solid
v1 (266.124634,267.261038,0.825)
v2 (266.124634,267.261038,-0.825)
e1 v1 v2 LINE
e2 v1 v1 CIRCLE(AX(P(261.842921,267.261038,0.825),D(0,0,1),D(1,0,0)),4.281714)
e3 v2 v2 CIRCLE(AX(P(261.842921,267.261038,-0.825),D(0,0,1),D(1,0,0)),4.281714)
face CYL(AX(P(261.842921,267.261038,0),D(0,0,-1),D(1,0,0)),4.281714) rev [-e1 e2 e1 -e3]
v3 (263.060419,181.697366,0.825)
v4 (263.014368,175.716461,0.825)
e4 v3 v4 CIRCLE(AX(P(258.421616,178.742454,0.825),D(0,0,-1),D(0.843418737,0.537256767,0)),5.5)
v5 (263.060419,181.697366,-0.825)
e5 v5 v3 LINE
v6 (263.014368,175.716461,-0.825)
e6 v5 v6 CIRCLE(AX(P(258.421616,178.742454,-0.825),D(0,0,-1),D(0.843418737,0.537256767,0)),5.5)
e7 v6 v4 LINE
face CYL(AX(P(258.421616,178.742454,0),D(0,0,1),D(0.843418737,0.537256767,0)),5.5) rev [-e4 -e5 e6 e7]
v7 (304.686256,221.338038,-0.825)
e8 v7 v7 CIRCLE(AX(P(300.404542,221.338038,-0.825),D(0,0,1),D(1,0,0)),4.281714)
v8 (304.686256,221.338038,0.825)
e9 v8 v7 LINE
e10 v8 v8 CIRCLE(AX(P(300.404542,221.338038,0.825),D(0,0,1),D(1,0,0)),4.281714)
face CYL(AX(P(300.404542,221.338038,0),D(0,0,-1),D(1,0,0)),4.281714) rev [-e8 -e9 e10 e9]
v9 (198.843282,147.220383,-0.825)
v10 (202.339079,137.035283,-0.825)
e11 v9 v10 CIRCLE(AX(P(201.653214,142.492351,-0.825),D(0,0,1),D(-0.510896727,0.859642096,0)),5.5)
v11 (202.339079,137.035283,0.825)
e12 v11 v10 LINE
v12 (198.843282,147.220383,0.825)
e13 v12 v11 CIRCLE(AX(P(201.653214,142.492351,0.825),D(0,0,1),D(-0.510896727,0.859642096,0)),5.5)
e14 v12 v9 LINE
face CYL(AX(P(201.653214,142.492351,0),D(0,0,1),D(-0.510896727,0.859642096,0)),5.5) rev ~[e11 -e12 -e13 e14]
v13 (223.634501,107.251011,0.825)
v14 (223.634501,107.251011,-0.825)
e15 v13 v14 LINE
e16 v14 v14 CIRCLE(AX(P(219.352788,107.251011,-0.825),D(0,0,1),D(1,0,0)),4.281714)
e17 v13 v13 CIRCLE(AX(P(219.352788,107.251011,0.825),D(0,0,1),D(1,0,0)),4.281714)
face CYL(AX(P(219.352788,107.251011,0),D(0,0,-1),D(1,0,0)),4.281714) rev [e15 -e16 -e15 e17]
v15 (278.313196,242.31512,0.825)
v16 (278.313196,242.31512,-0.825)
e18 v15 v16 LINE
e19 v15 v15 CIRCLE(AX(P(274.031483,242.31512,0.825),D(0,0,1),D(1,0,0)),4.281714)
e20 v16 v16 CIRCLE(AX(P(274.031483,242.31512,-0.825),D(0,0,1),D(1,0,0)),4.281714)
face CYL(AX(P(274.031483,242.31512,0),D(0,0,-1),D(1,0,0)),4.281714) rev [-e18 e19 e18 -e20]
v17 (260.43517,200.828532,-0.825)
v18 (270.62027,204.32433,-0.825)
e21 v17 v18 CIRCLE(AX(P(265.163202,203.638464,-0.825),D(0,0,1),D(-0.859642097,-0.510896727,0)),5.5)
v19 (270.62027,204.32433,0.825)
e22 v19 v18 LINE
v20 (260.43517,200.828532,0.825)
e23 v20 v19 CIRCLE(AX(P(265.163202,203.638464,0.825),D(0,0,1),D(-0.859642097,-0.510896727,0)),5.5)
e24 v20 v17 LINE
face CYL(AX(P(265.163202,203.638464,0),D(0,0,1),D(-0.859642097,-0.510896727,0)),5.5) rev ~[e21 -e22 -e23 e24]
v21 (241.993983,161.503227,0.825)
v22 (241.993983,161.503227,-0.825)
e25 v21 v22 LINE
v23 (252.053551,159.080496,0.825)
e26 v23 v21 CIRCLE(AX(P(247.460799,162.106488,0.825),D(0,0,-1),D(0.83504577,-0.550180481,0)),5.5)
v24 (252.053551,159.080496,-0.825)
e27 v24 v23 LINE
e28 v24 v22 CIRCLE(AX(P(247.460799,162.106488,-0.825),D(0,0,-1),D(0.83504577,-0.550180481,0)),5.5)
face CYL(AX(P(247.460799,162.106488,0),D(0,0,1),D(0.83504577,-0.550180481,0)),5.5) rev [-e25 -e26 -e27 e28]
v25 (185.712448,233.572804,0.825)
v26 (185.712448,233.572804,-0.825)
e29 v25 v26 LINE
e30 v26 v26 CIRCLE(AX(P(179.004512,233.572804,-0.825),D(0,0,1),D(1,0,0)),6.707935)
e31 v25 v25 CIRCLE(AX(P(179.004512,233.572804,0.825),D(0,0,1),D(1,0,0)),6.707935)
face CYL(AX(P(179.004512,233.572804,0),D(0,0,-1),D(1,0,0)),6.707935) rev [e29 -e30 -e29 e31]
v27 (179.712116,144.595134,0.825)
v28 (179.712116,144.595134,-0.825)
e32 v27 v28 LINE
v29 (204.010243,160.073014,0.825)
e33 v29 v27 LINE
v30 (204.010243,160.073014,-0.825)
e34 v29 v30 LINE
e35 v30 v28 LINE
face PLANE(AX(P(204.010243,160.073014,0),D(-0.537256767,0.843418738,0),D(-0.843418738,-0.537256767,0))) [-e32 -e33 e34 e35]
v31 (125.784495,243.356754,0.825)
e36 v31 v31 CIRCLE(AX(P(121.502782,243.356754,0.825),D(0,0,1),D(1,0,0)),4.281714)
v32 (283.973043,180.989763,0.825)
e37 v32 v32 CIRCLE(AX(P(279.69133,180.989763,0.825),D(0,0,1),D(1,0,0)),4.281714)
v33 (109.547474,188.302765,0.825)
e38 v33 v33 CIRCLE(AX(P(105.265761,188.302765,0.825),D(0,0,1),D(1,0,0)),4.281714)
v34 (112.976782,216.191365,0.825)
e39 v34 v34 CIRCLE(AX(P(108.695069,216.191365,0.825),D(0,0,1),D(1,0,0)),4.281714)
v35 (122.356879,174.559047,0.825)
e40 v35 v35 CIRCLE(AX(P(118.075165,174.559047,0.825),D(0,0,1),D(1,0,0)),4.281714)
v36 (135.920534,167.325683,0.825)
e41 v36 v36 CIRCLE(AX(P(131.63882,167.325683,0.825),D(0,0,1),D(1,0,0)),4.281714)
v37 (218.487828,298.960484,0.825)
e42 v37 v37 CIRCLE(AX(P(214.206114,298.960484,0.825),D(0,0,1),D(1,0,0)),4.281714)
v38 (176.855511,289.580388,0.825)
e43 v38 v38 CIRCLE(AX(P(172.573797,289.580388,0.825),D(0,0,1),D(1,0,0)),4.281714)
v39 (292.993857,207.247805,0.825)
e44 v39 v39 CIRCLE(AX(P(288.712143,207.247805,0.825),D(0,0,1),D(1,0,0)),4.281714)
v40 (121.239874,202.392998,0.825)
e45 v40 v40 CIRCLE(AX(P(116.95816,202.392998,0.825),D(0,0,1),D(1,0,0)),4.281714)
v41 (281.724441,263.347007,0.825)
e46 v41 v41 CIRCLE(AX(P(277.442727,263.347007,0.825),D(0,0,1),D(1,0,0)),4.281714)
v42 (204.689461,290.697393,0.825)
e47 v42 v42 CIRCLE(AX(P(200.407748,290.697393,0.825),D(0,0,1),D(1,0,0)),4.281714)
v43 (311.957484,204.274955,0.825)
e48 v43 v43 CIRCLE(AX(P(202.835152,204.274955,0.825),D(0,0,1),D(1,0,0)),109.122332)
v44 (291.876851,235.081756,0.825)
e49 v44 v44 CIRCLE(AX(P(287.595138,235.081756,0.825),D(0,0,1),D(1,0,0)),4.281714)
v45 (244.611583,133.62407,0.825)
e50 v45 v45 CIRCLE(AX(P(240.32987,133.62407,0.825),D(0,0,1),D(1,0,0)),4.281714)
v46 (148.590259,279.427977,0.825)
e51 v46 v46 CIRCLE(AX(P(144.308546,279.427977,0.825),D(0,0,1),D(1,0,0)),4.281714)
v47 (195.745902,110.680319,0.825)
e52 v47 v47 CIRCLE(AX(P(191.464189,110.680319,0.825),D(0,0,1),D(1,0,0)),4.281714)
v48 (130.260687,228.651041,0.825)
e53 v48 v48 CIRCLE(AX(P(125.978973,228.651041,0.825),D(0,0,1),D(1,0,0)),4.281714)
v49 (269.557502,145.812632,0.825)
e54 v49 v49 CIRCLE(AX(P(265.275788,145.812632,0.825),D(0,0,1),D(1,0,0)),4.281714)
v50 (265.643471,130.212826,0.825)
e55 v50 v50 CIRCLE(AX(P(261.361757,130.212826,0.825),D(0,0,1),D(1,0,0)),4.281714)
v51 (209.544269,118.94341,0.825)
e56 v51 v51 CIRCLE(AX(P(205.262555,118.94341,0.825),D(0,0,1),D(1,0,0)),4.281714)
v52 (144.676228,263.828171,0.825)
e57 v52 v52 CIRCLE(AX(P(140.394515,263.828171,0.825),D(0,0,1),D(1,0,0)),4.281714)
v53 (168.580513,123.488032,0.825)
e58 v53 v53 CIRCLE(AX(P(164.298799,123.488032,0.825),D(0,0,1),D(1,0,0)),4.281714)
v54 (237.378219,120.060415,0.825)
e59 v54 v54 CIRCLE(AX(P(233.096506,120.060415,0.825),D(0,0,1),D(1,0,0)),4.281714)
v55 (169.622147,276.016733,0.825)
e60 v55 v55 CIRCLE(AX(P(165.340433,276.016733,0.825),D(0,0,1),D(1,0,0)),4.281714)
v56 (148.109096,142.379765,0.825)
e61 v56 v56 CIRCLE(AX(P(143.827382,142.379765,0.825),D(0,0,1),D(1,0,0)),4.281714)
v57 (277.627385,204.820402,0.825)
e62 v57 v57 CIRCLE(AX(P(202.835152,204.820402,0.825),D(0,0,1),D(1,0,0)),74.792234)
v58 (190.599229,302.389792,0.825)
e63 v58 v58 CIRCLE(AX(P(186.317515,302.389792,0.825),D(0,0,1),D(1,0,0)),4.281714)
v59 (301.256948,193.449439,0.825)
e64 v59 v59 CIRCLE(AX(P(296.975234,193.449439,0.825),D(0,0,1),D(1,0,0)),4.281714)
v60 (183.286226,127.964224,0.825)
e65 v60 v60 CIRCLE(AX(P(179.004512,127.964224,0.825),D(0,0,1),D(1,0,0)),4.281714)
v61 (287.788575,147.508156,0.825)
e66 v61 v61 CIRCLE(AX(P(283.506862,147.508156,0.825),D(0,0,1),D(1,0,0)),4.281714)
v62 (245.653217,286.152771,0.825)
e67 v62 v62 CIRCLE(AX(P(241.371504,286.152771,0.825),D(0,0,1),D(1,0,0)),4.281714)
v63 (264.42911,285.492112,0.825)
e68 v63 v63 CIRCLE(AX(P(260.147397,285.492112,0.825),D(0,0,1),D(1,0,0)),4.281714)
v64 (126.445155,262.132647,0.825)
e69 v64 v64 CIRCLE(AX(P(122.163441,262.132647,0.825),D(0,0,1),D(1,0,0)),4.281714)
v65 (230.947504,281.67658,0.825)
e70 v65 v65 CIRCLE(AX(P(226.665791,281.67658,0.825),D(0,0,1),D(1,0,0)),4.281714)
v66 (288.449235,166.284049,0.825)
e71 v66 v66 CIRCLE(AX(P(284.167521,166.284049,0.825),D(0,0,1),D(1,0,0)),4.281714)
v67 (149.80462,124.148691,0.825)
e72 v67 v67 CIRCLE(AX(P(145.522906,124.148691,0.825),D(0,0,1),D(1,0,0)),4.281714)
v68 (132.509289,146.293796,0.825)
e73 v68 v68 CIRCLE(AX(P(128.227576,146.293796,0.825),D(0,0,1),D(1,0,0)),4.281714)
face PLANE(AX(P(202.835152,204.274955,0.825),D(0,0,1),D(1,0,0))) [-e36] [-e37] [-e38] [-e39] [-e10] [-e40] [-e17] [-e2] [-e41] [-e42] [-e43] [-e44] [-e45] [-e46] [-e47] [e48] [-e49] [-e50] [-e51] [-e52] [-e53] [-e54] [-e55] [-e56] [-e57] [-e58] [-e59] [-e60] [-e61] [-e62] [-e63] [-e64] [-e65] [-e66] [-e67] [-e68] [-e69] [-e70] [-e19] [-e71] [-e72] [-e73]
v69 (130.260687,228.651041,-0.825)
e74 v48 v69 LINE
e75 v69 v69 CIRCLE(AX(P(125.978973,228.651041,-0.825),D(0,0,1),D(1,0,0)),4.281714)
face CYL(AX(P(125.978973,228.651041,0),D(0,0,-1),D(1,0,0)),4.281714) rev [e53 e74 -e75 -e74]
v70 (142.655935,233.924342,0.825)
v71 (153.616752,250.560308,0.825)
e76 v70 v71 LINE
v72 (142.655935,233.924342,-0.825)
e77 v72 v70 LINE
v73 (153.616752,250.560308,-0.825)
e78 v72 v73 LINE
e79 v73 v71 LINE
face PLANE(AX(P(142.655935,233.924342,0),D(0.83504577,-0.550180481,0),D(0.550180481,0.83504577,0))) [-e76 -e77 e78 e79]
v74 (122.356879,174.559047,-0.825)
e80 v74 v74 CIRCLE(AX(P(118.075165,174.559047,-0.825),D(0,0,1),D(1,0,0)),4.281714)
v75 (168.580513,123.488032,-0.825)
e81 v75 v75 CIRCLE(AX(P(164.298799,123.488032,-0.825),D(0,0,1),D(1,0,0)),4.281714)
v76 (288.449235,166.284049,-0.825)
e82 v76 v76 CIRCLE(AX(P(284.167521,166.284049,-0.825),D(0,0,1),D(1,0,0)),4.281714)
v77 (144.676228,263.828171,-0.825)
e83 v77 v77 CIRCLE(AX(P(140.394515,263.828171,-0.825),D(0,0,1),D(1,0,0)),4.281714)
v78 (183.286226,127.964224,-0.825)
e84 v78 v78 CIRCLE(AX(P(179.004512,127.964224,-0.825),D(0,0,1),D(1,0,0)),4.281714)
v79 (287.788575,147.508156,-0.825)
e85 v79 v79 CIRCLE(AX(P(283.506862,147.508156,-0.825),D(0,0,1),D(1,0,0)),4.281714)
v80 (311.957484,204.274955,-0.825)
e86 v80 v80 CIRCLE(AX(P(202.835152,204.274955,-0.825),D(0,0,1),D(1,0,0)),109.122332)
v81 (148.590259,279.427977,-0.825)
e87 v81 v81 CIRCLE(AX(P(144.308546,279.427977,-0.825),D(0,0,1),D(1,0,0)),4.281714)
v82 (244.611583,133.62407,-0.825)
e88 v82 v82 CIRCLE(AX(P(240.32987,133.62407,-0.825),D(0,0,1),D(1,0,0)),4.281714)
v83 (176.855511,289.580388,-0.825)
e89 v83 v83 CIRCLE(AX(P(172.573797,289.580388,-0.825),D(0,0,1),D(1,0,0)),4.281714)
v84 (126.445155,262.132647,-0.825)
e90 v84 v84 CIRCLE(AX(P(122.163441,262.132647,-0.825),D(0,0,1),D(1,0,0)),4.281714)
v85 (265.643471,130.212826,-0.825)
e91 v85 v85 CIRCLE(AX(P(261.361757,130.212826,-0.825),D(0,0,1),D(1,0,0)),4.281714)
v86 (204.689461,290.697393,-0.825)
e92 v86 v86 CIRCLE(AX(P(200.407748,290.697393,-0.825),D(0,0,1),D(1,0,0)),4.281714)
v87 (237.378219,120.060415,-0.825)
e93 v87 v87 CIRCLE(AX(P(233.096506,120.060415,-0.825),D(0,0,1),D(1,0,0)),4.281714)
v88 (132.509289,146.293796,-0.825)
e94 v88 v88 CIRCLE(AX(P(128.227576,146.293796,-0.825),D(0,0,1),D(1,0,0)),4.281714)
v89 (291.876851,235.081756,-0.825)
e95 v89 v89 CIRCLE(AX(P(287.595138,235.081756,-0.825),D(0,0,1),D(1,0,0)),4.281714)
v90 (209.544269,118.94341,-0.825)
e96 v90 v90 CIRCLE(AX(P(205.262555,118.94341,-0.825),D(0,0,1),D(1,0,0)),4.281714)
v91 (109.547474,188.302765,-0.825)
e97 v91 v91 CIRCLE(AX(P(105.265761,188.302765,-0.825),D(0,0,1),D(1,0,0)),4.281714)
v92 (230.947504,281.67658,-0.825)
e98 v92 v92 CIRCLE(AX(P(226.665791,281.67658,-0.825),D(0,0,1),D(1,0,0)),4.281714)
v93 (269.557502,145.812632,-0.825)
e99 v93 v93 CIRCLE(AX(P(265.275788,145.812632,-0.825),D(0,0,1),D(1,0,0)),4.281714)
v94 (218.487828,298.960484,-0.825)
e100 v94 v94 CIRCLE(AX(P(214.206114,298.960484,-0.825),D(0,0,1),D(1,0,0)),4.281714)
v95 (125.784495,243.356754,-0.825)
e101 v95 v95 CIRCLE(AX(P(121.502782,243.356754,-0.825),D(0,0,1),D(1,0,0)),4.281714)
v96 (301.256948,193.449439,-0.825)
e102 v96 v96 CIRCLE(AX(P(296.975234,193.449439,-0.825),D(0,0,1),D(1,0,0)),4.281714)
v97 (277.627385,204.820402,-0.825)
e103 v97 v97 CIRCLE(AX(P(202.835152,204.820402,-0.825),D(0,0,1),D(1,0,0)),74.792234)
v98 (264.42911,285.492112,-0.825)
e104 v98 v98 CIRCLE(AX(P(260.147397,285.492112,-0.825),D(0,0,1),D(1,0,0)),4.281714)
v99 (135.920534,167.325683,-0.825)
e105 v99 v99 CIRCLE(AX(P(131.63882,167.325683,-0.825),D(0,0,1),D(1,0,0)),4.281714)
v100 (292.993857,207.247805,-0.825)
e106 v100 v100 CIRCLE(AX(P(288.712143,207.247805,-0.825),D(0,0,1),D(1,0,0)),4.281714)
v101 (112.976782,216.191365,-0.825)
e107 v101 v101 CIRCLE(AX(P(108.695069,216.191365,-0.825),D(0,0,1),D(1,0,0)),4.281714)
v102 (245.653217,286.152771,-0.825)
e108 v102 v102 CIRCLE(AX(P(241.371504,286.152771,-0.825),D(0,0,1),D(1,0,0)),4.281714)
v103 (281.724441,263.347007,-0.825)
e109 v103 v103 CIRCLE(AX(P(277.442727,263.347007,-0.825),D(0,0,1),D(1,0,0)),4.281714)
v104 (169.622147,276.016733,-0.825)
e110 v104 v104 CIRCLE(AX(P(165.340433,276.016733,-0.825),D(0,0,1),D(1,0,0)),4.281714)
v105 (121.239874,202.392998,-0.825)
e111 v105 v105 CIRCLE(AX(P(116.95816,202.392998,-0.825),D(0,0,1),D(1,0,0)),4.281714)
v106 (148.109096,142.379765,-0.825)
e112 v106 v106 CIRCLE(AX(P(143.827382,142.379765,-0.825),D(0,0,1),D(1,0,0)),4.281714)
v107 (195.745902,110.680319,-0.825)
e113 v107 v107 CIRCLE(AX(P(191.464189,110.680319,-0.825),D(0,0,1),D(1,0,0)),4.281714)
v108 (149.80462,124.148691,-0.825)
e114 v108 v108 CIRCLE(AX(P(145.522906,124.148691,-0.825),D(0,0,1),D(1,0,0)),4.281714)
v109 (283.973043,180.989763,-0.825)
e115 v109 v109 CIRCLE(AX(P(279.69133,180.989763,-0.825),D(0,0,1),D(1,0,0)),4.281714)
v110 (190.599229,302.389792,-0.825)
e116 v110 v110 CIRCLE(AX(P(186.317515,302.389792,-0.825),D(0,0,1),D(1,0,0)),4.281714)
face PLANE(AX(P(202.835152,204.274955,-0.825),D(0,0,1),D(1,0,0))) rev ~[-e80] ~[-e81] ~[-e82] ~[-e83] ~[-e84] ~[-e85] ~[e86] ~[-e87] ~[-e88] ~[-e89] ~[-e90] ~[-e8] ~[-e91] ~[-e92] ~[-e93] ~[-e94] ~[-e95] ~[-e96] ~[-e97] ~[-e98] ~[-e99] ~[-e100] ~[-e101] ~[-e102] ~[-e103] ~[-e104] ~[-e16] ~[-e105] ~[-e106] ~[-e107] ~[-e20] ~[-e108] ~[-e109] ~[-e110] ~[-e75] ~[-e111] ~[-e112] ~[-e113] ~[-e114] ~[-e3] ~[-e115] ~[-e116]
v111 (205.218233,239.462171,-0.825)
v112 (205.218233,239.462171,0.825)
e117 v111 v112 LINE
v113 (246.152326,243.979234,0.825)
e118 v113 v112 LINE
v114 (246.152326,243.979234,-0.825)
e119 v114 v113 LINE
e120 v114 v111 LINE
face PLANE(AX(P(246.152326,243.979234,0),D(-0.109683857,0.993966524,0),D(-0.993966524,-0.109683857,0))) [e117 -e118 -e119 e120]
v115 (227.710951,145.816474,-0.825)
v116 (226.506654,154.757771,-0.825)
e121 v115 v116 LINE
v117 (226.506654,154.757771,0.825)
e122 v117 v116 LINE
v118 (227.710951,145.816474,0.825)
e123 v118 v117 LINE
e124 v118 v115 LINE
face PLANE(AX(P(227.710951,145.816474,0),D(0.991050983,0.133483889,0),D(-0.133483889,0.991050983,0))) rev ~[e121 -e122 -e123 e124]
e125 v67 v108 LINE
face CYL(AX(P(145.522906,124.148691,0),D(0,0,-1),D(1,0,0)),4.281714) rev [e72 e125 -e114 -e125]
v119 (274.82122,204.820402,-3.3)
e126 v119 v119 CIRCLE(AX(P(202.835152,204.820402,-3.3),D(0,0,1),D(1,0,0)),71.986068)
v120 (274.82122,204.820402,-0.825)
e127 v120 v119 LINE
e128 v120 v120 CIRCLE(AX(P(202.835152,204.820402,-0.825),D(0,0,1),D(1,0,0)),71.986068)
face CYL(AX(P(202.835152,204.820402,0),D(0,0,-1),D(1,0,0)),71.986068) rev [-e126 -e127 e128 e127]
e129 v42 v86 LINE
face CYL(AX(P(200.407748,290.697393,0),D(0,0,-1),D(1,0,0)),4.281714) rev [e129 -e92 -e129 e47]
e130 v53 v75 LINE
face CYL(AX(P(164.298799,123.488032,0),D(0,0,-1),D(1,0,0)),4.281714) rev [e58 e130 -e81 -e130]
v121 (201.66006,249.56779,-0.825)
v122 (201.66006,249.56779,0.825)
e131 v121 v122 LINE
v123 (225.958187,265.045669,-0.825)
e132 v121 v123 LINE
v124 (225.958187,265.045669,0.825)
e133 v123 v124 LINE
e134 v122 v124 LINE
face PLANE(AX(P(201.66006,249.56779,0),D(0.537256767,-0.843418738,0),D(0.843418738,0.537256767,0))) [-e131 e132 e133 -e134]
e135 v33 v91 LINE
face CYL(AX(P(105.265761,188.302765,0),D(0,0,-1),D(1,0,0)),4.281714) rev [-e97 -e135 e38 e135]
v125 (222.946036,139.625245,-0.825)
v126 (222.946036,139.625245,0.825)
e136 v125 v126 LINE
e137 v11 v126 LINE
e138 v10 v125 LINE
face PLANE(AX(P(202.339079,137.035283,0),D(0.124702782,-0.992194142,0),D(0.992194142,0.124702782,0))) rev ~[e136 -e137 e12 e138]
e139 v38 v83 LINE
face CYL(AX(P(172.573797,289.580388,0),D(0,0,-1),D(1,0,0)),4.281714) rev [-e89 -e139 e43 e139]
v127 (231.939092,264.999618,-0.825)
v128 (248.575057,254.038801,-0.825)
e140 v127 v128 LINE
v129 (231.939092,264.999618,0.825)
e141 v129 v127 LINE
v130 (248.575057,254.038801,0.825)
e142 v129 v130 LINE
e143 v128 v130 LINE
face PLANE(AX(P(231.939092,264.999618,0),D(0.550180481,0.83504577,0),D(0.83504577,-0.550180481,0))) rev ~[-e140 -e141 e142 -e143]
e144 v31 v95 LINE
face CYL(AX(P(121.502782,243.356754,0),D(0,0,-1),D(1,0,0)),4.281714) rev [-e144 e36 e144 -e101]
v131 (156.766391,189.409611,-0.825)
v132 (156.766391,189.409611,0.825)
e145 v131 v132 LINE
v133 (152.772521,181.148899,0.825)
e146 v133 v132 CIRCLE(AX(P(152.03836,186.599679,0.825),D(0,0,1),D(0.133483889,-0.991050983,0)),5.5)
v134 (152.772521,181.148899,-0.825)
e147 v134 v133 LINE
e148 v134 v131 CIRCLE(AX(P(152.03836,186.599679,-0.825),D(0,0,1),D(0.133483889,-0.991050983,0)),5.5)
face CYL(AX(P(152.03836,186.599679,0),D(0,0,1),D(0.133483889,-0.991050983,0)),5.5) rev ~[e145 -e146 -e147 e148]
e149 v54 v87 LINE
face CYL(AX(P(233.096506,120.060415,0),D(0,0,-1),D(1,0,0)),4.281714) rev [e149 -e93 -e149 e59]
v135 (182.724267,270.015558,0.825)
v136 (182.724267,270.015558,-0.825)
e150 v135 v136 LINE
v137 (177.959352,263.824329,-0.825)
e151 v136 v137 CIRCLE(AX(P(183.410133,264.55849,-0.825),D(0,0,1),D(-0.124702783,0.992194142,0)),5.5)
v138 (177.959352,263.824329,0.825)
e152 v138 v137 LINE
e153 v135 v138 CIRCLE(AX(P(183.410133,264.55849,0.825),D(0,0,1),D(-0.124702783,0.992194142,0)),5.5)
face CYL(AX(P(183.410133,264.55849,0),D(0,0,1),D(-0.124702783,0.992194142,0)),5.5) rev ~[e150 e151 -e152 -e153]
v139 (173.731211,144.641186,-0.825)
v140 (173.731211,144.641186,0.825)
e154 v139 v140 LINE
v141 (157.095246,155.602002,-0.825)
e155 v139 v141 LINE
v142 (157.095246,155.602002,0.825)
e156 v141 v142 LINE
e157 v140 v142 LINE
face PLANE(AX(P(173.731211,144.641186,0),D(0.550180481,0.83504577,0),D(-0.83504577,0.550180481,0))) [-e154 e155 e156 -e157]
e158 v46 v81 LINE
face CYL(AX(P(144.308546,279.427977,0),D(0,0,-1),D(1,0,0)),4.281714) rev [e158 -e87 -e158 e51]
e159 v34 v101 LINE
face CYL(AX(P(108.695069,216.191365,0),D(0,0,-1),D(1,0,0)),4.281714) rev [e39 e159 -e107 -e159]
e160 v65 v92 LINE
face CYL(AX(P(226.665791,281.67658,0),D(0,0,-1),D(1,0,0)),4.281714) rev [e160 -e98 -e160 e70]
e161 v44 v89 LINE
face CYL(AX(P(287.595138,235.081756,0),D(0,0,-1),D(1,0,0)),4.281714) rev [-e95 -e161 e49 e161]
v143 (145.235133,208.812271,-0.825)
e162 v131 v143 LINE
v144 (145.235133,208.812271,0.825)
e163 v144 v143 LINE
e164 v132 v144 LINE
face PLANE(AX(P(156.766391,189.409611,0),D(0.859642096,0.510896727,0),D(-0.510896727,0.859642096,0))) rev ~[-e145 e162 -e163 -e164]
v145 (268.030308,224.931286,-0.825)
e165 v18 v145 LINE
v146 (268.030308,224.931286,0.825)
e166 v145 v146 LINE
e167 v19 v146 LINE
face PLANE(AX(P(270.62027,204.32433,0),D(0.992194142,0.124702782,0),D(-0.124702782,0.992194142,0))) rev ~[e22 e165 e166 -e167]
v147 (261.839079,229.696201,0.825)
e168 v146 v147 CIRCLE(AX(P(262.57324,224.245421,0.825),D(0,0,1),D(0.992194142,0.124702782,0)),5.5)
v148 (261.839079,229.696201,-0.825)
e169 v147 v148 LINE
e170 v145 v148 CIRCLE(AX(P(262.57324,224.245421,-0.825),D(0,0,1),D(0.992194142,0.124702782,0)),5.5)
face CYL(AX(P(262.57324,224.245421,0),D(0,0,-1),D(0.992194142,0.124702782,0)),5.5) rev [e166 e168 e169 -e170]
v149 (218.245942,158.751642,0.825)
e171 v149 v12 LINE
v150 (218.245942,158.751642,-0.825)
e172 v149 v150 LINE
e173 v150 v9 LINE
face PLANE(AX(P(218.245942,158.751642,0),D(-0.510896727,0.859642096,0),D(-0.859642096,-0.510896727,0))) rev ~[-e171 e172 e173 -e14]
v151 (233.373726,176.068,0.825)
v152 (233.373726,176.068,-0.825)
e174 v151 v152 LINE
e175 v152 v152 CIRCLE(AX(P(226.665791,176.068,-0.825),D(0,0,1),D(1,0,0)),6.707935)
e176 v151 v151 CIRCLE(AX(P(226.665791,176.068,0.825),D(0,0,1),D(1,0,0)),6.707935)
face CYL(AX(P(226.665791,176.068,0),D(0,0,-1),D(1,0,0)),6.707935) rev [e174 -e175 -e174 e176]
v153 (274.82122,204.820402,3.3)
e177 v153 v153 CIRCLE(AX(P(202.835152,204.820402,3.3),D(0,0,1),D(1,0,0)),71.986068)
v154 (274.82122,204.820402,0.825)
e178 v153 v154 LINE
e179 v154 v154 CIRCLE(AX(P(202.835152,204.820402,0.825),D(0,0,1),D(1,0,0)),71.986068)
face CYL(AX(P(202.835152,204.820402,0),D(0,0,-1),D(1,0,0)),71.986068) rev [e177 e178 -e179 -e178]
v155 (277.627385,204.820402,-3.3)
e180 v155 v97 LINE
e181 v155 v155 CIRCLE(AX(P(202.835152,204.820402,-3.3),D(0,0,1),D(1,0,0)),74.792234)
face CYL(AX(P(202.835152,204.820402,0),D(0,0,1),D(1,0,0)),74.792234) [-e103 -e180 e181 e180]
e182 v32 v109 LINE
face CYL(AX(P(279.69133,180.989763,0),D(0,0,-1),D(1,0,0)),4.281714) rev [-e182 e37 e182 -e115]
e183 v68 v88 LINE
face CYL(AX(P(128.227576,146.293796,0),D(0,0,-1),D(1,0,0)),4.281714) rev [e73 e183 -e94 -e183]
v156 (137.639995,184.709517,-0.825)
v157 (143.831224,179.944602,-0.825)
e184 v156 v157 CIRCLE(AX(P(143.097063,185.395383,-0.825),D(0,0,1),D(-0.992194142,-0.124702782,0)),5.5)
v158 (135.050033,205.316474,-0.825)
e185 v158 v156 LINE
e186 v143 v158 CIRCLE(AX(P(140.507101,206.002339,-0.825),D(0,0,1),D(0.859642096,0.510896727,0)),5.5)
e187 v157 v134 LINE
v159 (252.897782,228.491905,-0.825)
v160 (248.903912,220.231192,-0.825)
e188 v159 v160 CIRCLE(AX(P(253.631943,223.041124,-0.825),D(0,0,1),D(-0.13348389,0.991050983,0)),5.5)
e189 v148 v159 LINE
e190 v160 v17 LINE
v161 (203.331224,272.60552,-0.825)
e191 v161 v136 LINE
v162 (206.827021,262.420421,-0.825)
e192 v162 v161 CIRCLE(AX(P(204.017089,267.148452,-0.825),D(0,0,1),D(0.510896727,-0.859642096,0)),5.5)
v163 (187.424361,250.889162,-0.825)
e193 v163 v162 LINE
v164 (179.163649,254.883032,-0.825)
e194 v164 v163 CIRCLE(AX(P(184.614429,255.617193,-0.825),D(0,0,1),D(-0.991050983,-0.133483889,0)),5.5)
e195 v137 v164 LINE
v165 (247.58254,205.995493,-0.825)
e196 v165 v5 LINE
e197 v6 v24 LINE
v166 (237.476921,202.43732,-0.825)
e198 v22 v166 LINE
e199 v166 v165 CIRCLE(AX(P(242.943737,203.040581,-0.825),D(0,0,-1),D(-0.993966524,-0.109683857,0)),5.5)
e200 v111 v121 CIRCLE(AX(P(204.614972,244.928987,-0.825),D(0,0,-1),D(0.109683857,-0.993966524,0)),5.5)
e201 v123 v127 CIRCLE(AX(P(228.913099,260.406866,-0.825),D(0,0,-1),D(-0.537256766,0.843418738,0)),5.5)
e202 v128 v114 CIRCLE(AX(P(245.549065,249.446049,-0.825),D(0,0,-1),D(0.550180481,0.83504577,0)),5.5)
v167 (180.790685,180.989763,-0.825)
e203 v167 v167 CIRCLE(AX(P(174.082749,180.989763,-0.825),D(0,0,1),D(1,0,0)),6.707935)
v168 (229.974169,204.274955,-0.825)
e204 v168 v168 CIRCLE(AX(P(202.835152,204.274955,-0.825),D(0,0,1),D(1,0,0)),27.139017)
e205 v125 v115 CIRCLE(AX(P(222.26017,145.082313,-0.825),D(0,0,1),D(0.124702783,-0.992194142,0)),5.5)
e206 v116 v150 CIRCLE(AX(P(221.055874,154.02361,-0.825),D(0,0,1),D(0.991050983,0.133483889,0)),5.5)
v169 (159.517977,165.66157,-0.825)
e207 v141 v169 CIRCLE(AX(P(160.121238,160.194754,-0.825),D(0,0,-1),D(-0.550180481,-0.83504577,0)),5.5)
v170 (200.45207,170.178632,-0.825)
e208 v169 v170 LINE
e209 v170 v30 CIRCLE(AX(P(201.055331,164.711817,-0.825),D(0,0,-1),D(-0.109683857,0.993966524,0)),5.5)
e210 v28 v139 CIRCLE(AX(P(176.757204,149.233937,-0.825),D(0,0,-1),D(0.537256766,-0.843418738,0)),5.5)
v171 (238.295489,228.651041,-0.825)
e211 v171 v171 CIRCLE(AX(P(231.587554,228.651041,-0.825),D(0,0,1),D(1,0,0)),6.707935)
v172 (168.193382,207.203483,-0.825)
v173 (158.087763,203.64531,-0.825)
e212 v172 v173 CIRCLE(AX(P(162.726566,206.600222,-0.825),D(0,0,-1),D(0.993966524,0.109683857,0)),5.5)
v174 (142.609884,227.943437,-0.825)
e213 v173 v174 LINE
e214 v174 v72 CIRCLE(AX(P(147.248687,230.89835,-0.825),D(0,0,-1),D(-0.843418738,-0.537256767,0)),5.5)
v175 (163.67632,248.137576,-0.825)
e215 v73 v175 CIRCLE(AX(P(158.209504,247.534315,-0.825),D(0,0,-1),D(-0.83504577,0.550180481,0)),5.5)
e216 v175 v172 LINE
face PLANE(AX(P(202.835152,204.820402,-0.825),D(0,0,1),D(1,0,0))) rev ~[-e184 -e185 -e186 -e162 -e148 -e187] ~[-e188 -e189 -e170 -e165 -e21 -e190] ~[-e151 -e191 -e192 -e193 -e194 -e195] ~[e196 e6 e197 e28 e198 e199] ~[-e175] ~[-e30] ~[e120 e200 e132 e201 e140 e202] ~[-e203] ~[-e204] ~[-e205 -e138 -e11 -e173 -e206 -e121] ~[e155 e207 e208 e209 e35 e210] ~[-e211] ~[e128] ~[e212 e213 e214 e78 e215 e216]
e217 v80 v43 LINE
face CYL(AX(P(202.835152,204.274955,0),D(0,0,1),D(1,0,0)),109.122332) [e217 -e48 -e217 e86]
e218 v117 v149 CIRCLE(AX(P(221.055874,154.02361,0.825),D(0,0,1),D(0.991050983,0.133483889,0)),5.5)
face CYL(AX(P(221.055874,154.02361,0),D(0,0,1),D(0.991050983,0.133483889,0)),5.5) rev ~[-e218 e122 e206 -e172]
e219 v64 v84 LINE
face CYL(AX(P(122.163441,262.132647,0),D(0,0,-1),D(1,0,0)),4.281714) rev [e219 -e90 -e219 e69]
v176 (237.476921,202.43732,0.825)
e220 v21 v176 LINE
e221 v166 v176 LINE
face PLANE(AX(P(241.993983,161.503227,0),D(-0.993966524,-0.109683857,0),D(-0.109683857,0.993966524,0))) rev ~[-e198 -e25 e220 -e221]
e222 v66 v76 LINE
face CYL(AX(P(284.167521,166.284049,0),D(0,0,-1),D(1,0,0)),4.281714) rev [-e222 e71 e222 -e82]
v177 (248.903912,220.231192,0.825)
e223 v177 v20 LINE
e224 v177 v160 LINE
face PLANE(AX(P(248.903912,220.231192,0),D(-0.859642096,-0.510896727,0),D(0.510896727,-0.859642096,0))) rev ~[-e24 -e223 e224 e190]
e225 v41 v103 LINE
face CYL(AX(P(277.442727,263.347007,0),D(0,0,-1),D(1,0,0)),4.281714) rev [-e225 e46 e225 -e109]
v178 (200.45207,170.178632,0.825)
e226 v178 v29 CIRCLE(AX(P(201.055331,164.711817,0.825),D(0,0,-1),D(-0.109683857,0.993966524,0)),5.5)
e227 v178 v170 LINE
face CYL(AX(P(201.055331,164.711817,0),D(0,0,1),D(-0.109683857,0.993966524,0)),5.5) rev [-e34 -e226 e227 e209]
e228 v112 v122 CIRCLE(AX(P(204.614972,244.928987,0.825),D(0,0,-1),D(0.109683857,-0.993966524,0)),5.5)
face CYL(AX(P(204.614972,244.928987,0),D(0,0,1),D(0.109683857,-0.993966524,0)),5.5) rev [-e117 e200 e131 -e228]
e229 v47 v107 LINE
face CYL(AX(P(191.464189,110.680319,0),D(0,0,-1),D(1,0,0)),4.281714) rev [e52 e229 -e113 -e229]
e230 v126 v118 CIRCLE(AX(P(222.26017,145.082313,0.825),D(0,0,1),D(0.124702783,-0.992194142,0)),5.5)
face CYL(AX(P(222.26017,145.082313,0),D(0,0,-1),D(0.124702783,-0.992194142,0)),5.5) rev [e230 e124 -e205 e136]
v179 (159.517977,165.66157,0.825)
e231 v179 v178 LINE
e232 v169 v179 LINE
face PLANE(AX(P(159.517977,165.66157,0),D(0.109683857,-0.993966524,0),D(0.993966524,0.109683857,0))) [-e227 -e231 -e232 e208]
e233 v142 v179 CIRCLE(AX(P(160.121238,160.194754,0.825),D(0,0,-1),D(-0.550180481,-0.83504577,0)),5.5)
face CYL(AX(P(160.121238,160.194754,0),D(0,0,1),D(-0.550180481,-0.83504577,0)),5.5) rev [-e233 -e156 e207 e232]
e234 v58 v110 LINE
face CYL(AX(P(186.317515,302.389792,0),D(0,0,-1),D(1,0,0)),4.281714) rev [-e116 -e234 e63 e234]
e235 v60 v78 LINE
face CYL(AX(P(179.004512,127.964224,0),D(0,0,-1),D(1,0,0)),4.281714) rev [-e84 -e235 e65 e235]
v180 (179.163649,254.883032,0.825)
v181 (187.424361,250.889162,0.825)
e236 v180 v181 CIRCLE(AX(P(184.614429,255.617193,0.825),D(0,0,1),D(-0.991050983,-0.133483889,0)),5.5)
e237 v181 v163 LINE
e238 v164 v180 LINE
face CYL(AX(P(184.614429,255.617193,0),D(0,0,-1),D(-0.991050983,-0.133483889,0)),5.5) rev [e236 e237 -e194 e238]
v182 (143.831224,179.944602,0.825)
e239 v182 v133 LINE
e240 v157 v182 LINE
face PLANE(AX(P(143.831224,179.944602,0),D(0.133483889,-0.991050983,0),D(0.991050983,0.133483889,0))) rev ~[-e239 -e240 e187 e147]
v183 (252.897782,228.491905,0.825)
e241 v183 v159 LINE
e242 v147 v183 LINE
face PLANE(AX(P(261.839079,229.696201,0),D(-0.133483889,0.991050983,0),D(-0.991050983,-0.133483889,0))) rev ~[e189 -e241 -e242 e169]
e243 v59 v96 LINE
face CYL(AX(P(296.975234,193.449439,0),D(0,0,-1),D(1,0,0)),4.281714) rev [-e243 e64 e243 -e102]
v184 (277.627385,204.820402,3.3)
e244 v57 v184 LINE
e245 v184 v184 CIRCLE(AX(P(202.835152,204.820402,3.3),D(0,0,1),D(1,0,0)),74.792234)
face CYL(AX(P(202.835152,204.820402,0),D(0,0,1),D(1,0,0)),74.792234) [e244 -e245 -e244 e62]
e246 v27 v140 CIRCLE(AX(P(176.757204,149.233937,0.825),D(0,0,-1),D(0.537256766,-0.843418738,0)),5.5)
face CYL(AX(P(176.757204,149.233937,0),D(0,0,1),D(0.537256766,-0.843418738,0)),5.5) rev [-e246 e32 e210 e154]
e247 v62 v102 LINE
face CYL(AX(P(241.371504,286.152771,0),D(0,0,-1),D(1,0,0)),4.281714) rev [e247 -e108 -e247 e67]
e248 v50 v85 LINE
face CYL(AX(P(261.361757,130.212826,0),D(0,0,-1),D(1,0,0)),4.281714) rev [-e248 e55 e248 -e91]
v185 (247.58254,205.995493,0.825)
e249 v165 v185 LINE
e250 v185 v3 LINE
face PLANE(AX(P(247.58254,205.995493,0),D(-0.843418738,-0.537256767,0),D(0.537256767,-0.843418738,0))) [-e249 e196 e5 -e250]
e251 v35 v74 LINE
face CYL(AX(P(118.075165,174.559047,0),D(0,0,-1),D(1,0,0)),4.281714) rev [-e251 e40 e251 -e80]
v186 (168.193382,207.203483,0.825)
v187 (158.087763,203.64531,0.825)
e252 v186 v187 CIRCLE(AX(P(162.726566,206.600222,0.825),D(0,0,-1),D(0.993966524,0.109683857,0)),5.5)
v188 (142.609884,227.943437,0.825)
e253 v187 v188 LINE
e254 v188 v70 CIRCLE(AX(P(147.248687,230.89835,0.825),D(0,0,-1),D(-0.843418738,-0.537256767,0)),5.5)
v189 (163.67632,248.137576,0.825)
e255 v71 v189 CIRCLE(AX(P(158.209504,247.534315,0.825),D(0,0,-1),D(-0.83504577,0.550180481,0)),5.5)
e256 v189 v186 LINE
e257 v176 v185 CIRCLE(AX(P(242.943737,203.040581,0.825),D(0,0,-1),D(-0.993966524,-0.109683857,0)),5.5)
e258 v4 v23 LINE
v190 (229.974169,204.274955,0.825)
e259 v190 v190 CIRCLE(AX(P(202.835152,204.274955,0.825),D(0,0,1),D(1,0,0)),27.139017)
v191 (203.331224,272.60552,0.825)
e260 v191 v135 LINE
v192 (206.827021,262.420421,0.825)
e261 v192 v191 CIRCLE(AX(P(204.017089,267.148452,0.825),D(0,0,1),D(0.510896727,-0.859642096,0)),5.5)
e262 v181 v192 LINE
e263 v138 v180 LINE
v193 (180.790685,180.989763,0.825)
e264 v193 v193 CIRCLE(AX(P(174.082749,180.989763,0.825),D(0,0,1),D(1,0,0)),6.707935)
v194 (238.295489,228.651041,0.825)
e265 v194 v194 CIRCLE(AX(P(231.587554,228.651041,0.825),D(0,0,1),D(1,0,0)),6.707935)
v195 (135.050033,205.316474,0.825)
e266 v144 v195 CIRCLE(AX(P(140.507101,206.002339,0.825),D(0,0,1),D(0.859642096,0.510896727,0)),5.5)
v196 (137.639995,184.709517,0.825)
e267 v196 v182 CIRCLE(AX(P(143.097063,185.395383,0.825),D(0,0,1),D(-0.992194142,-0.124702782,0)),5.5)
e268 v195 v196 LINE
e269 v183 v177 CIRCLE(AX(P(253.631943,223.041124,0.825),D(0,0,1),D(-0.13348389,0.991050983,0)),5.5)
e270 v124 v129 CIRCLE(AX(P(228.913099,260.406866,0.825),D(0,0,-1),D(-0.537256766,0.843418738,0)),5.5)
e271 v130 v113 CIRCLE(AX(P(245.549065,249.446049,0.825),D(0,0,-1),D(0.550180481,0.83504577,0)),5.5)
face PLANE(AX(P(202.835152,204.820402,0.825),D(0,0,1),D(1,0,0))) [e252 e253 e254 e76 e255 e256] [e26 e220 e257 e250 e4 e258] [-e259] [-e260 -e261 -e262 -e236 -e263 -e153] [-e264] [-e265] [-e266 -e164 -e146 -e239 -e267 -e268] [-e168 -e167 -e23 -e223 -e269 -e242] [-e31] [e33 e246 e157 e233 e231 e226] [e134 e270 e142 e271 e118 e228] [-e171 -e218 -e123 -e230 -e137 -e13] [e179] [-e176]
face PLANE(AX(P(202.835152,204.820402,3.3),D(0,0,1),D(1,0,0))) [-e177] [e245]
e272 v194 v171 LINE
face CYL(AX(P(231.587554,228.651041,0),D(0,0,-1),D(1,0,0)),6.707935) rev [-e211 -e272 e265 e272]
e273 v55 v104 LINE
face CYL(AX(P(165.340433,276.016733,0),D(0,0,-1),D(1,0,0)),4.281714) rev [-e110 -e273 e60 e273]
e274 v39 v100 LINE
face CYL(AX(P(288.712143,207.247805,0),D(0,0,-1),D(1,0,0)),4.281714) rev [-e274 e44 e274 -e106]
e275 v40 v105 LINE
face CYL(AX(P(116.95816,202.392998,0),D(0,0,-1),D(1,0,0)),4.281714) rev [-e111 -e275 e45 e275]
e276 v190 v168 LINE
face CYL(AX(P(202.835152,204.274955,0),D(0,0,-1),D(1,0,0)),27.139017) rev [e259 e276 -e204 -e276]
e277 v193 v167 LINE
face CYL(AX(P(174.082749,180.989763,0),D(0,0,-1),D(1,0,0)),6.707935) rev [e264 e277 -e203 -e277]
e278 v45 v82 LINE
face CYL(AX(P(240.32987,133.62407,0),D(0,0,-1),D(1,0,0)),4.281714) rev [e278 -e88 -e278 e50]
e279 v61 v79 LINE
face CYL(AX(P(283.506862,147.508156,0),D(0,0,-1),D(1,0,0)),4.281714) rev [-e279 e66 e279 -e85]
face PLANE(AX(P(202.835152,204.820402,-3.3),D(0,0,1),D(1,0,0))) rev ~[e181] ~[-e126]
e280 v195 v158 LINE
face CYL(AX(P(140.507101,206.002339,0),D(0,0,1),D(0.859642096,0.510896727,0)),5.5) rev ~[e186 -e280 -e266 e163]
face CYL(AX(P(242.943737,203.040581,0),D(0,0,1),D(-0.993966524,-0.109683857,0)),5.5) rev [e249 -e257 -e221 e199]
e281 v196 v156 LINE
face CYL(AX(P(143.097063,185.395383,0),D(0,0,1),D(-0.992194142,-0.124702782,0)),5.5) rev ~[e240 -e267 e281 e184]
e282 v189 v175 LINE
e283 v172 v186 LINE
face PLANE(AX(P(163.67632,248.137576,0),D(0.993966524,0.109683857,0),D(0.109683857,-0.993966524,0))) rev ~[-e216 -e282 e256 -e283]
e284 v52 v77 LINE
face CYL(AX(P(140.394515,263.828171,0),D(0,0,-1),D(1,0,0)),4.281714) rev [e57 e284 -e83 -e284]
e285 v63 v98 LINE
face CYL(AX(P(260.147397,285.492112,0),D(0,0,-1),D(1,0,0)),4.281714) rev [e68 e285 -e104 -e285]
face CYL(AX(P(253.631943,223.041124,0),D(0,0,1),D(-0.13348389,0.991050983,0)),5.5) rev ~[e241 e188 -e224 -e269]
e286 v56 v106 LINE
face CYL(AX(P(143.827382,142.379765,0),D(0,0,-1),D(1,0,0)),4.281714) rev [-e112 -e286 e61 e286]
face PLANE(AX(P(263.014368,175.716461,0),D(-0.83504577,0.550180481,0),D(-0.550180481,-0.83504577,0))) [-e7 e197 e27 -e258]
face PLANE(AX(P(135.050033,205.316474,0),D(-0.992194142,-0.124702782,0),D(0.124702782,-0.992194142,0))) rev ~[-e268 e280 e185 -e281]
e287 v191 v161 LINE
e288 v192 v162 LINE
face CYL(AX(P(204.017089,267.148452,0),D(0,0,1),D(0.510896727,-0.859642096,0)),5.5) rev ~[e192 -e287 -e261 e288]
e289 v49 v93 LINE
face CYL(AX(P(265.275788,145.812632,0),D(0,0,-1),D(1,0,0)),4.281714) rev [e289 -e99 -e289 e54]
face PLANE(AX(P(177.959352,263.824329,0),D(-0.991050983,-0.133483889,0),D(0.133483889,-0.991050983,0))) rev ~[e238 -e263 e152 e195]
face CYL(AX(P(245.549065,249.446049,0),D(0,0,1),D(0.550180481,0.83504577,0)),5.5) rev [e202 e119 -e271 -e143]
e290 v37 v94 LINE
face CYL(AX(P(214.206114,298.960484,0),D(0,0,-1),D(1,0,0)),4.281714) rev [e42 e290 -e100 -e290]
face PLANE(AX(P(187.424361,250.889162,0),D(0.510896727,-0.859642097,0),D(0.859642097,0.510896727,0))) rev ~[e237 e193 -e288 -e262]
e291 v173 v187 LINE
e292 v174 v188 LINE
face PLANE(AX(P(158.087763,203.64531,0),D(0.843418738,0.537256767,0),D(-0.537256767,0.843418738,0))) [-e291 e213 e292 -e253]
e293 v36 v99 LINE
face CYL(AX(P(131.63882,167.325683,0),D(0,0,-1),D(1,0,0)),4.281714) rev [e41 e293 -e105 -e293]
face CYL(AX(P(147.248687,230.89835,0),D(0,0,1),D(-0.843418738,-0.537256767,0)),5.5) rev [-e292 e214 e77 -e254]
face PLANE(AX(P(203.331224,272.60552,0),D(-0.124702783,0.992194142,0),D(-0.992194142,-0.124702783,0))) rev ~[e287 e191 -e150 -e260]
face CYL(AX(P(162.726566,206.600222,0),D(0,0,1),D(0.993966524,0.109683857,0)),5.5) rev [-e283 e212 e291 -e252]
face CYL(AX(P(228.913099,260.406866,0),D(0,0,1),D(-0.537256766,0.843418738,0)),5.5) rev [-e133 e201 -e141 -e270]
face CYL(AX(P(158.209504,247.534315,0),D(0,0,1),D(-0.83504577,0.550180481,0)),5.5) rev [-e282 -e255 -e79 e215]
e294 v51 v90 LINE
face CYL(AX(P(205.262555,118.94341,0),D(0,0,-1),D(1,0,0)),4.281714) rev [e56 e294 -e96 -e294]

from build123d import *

# Parameters (mm, degrees)
SKETCH2_R             = 198.40424038
SKETCH2_R_2           = 135.985879118
SKETCH2_R_3           = 7.784933854
BOSS_EXTRUDE2_DEPTH   = 1.5
SKETCH2_R_4           = 130.883760353
SKETCH2_R_5           = 49.343667584
SKETCH2_R_6           = 12.196246353
BOSS_EXTRUDE2_2_DEPTH = 1.5
SKETCH3_R             = 135.985879118
SKETCH3_R_2           = 130.883760353
BOSS_EXTRUDE3_DEPTH   = 6
SCALE1_SCALE          = 0.55


with BuildPart() as part:
    # Sketch2 → Boss-Extrude2 (new, symmetric)
    with BuildSketch(Plane.XY):
        with Locations((202.835151523, 204.337269437)):
            Circle(SKETCH2_R)
        with Locations((202.835151523, 205.328991248)):
            Circle(SKETCH2_R_2, mode=Mode.SUBTRACT)
        with Locations((31.671364892, 226.003469352)):
            Circle(SKETCH2_R_3, mode=Mode.SUBTRACT)
        with Locations((46.695167001, 200.915529744)):
            Circle(SKETCH2_R_3, mode=Mode.SUBTRACT)
        with Locations((48.726085629, 150.308347166)):
            Circle(SKETCH2_R_3, mode=Mode.SUBTRACT)
        with Locations((73.387276697, 137.156776347)):
            Circle(SKETCH2_R_3, mode=Mode.SUBTRACT)
        with Locations((25.436259388, 175.296925506)):
            Circle(SKETCH2_R_3, mode=Mode.SUBTRACT)
        with Locations((89.306721095, 312.615844559)):
            Circle(SKETCH2_R_3, mode=Mode.SUBTRACT)
        with Locations((96.423140967, 340.979129133)):
            Circle(SKETCH2_R_3, mode=Mode.SUBTRACT)
        with Locations((56.15931458, 309.533073513)):
            Circle(SKETCH2_R_3, mode=Mode.SUBTRACT)
        with Locations((54.958115451, 275.395086249)):
            Circle(SKETCH2_R_3, mode=Mode.SUBTRACT)
        with Locations((63.096645978, 248.657425903)):
            Circle(SKETCH2_R_3, mode=Mode.SUBTRACT)
        with Locations((198.421690018, 361.46897577)):
            Circle(SKETCH2_R_3, mode=Mode.SUBTRACT)
        with Locations((223.509629626, 376.492777879)):
            Circle(SKETCH2_R_3, mode=Mode.SUBTRACT)
        with Locations((172.803085781, 382.727883384)):
            Circle(SKETCH2_R_3, mode=Mode.SUBTRACT)
        with Locations((147.814507441, 359.438057143)):
            Circle(SKETCH2_R_3, mode=Mode.SUBTRACT)
        with Locations((134.662936621, 334.776866075)):
            Circle(SKETCH2_R_3, mode=Mode.SUBTRACT)
        with Locations((310.122004834, 318.857421676)):
            Circle(SKETCH2_R_3, mode=Mode.SUBTRACT)
        with Locations((338.485289407, 311.741001804)):
            Circle(SKETCH2_R_3, mode=Mode.SUBTRACT)
        with Locations((307.039233787, 352.004828191)):
            Circle(SKETCH2_R_3, mode=Mode.SUBTRACT)
        with Locations((272.901246523, 353.20602732)):
            Circle(SKETCH2_R_3, mode=Mode.SUBTRACT)
        with Locations((246.163586177, 345.067496794)):
            Circle(SKETCH2_R_3, mode=Mode.SUBTRACT)
        with Locations((358.975136044, 209.742452753)):
            Circle(SKETCH2_R_3, mode=Mode.SUBTRACT)
        with Locations((373.998938153, 184.654513145)):
            Circle(SKETCH2_R_3, mode=Mode.SUBTRACT)
        with Locations((380.234043658, 235.36105699)):
            Circle(SKETCH2_R_3, mode=Mode.SUBTRACT)
        with Locations((356.944217417, 260.349635331)):
            Circle(SKETCH2_R_3, mode=Mode.SUBTRACT)
        with Locations((332.283026349, 273.50120615)):
            Circle(SKETCH2_R_3, mode=Mode.SUBTRACT)
        with Locations((316.363581951, 98.042137937)):
            Circle(SKETCH2_R_3, mode=Mode.SUBTRACT)
        with Locations((309.247162079, 69.678853364)):
            Circle(SKETCH2_R_3, mode=Mode.SUBTRACT)
        with Locations((349.510988466, 101.124908984)):
            Circle(SKETCH2_R_3, mode=Mode.SUBTRACT)
        with Locations((350.712187595, 135.262896248)):
            Circle(SKETCH2_R_3, mode=Mode.SUBTRACT)
        with Locations((342.573657068, 162.000556594)):
            Circle(SKETCH2_R_3, mode=Mode.SUBTRACT)
        with Locations((207.248613028, 49.189006727)):
            Circle(SKETCH2_R_3, mode=Mode.SUBTRACT)
        with Locations((182.16067342, 34.165204618)):
            Circle(SKETCH2_R_3, mode=Mode.SUBTRACT)
        with Locations((232.867217265, 27.930099113)):
            Circle(SKETCH2_R_3, mode=Mode.SUBTRACT)
        with Locations((257.855795605, 51.219925354)):
            Circle(SKETCH2_R_3, mode=Mode.SUBTRACT)
        with Locations((271.007366424, 75.881116422)):
            Circle(SKETCH2_R_3, mode=Mode.SUBTRACT)
        with Locations((95.548298212, 91.80056082)):
            Circle(SKETCH2_R_3, mode=Mode.SUBTRACT)
        with Locations((67.185013639, 98.916980693)):
            Circle(SKETCH2_R_3, mode=Mode.SUBTRACT)
        with Locations((98.631069258, 58.653154305)):
            Circle(SKETCH2_R_3, mode=Mode.SUBTRACT)
        with Locations((132.769056523, 57.451955176)):
            Circle(SKETCH2_R_3, mode=Mode.SUBTRACT)
        with Locations((159.506716868, 65.590485703)):
            Circle(SKETCH2_R_3, mode=Mode.SUBTRACT)
    extrude(amount=BOSS_EXTRUDE2_DEPTH, both=True)



with BuildPart() as body_2:
    # Sketch2 → Boss-Extrude2 2 (new, symmetric)
    with BuildSketch(Plane.XY):
        with Locations((202.835151523, 205.328991248)):
            Circle(SKETCH2_R_4)
        with Locations((202.835151523, 204.337269437)):
            Circle(SKETCH2_R_5, mode=Mode.SUBTRACT)
        with Locations((255.112246252, 248.657425903)):
            Circle(SKETCH2_R_6, mode=Mode.SUBTRACT)
        with Locations((246.163586177, 153.051896519)):
            Circle(SKETCH2_R_6, mode=Mode.SUBTRACT)
        with Locations((150.558056793, 162.000556594)):
            Circle(SKETCH2_R_6, mode=Mode.SUBTRACT)
        with Locations((159.506716868, 257.606085978)):
            Circle(SKETCH2_R_6, mode=Mode.SUBTRACT)
        with BuildLine():
            Line((200.698620982, 286.687878698), (244.877034585, 314.829477394))
            ThreePointArc((244.877034585, 314.829477394), (250.326597214, 316.394993603), (255.751407061, 314.745747721))
            Line((255.751407061, 314.745747721), (285.998616921, 294.816990442))
            ThreePointArc((285.998616921, 294.816990442), (290.218832114, 284.125095779), (281.59365068, 276.526867497))
            Line((281.59365068, 276.526867497), (207.168027217, 268.314026079))
            ThreePointArc((207.168027217, 268.314026079), (196.638793414, 274.932558961), (200.698620982, 286.687878698))
        make_face(mode=Mode.SUBTRACT)
        with BuildLine():
            Line((286.596533548, 233.348610429), (307.562458602, 198.071046871))
            ThreePointArc((307.562458602, 198.071046871), (319.405249777, 193.721627364), (326.08082099, 204.427041968))
            Line((326.08082099, 204.427041968), (321.371799778, 241.894235315))
            ThreePointArc((321.371799778, 241.894235315), (317.54892079, 248.571943285), (310.115019461, 250.557717322))
            Line((310.115019461, 250.557717322), (293.858115619, 248.368087534))
            ThreePointArc((293.858115619, 248.368087534), (286.189974245, 242.810317791), (286.596533548, 233.348610429))
        make_face(mode=Mode.SUBTRACT)
        with BuildLine():
            Line((312.251907995, 152.412735711), (292.323150717, 122.16552585))
            ThreePointArc((292.323150717, 122.16552585), (281.631256053, 117.945310657), (274.033027772, 126.570492091))
            Line((274.033027772, 126.570492091), (265.820186353, 200.996115554))
            ThreePointArc((265.820186353, 200.996115554), (272.438719235, 211.525349357), (284.194038972, 207.465521789))
            Line((284.194038972, 207.465521789), (312.335637668, 163.287108187))
            ThreePointArc((312.335637668, 163.287108187), (313.901153878, 157.837545557), (312.251907995, 152.412735711))
        make_face(mode=Mode.SUBTRACT)
        with BuildLine():
            Line((230.854770704, 121.567609223), (195.577207145, 100.601684169))
            ThreePointArc((195.577207145, 100.601684169), (191.227787639, 88.758892994), (201.933202243, 82.083321781))
            Line((201.933202243, 82.083321781), (239.400395589, 86.792342993))
            ThreePointArc((239.400395589, 86.792342993), (246.078103559, 90.615221982), (248.063877596, 98.04912331))
            Line((248.063877596, 98.04912331), (245.874247808, 114.306027152))
            ThreePointArc((245.874247808, 114.306027152), (240.316478065, 121.974168527), (230.854770704, 121.567609223))
        make_face(mode=Mode.SUBTRACT)
        with BuildLine():
            Line((149.918895985, 95.912234776), (119.671686125, 115.840992054))
            ThreePointArc((119.671686125, 115.840992054), (115.451470931, 126.532886718), (124.076652365, 134.131115))
            Line((124.076652365, 134.131115), (198.502275828, 142.343956418))
            ThreePointArc((198.502275828, 142.343956418), (209.031509632, 135.725423536), (204.971682064, 123.970103799))
            Line((204.971682064, 123.970103799), (160.793268461, 95.828505103))
            ThreePointArc((160.793268461, 95.828505103), (155.343705832, 94.262988894), (149.918895985, 95.912234776))
        make_face(mode=Mode.SUBTRACT)
        with BuildLine():
            Line((119.073769497, 177.309372068), (98.107844444, 212.586935626))
            ThreePointArc((98.107844444, 212.586935626), (86.265053269, 216.936355132), (79.589482056, 206.230940529))
            Line((79.589482056, 206.230940529), (84.298503268, 168.763747182))
            ThreePointArc((84.298503268, 168.763747182), (88.121382256, 162.086039212), (95.555283585, 160.100265175))
            Line((95.555283585, 160.100265175), (111.812187426, 162.289894963))
            ThreePointArc((111.812187426, 162.289894963), (119.480328801, 167.847664706), (119.073769497, 177.309372068))
        make_face(mode=Mode.SUBTRACT)
        with BuildLine():
            Line((93.418395051, 258.245246786), (113.347152329, 288.492456646))
            ThreePointArc((113.347152329, 288.492456646), (124.039046993, 292.71267184), (131.637275274, 284.087490406))
            Line((131.637275274, 284.087490406), (139.850116692, 209.661866943))
            ThreePointArc((139.850116692, 209.661866943), (133.23158381, 199.13263314), (121.476264074, 203.192460707))
            Line((121.476264074, 203.192460707), (93.334665377, 247.37087431))
            ThreePointArc((93.334665377, 247.37087431), (91.769149168, 252.82043694), (93.418395051, 258.245246786))
        make_face(mode=Mode.SUBTRACT)
        with BuildLine():
            Line((174.815532342, 289.090373274), (210.093095901, 310.056298327))
            ThreePointArc((210.093095901, 310.056298327), (214.442515407, 321.899089503), (203.737100803, 328.574660716))
            Line((203.737100803, 328.574660716), (166.269907456, 323.865639503))
            ThreePointArc((166.269907456, 323.865639503), (159.592199487, 320.042760515), (157.60642545, 312.608859186))
            Line((157.60642545, 312.608859186), (159.796055238, 296.351955345))
            ThreePointArc((159.796055238, 296.351955345), (165.353824981, 288.68381397), (174.815532342, 289.090373274))
        make_face(mode=Mode.SUBTRACT)
    extrude(amount=BOSS_EXTRUDE2_2_DEPTH, both=True)


with BuildPart() as part_1:
    add(part.part)

    add(body_2.part)  # Boss-Extrude3 merges body 2
    # Sketch3 → Boss-Extrude3 (add, symmetric)
    with BuildSketch(Plane.XY):
        with Locations((202.835151523, 205.328991248)):
            Circle(SKETCH3_R)
        with Locations((202.835151523, 205.328991248)):
            Circle(SKETCH3_R_2, mode=Mode.SUBTRACT)
    extrude(amount=BOSS_EXTRUDE3_DEPTH, both=True)


with BuildPart() as part_2:
    # Scale1: scaled about (202.835151523, 204.1987921, 0)
    add(part_1.part.scale(SCALE1_SCALE).moved(Location((91.275818185, 91.889456445, 0))))


solid = part_2.part
